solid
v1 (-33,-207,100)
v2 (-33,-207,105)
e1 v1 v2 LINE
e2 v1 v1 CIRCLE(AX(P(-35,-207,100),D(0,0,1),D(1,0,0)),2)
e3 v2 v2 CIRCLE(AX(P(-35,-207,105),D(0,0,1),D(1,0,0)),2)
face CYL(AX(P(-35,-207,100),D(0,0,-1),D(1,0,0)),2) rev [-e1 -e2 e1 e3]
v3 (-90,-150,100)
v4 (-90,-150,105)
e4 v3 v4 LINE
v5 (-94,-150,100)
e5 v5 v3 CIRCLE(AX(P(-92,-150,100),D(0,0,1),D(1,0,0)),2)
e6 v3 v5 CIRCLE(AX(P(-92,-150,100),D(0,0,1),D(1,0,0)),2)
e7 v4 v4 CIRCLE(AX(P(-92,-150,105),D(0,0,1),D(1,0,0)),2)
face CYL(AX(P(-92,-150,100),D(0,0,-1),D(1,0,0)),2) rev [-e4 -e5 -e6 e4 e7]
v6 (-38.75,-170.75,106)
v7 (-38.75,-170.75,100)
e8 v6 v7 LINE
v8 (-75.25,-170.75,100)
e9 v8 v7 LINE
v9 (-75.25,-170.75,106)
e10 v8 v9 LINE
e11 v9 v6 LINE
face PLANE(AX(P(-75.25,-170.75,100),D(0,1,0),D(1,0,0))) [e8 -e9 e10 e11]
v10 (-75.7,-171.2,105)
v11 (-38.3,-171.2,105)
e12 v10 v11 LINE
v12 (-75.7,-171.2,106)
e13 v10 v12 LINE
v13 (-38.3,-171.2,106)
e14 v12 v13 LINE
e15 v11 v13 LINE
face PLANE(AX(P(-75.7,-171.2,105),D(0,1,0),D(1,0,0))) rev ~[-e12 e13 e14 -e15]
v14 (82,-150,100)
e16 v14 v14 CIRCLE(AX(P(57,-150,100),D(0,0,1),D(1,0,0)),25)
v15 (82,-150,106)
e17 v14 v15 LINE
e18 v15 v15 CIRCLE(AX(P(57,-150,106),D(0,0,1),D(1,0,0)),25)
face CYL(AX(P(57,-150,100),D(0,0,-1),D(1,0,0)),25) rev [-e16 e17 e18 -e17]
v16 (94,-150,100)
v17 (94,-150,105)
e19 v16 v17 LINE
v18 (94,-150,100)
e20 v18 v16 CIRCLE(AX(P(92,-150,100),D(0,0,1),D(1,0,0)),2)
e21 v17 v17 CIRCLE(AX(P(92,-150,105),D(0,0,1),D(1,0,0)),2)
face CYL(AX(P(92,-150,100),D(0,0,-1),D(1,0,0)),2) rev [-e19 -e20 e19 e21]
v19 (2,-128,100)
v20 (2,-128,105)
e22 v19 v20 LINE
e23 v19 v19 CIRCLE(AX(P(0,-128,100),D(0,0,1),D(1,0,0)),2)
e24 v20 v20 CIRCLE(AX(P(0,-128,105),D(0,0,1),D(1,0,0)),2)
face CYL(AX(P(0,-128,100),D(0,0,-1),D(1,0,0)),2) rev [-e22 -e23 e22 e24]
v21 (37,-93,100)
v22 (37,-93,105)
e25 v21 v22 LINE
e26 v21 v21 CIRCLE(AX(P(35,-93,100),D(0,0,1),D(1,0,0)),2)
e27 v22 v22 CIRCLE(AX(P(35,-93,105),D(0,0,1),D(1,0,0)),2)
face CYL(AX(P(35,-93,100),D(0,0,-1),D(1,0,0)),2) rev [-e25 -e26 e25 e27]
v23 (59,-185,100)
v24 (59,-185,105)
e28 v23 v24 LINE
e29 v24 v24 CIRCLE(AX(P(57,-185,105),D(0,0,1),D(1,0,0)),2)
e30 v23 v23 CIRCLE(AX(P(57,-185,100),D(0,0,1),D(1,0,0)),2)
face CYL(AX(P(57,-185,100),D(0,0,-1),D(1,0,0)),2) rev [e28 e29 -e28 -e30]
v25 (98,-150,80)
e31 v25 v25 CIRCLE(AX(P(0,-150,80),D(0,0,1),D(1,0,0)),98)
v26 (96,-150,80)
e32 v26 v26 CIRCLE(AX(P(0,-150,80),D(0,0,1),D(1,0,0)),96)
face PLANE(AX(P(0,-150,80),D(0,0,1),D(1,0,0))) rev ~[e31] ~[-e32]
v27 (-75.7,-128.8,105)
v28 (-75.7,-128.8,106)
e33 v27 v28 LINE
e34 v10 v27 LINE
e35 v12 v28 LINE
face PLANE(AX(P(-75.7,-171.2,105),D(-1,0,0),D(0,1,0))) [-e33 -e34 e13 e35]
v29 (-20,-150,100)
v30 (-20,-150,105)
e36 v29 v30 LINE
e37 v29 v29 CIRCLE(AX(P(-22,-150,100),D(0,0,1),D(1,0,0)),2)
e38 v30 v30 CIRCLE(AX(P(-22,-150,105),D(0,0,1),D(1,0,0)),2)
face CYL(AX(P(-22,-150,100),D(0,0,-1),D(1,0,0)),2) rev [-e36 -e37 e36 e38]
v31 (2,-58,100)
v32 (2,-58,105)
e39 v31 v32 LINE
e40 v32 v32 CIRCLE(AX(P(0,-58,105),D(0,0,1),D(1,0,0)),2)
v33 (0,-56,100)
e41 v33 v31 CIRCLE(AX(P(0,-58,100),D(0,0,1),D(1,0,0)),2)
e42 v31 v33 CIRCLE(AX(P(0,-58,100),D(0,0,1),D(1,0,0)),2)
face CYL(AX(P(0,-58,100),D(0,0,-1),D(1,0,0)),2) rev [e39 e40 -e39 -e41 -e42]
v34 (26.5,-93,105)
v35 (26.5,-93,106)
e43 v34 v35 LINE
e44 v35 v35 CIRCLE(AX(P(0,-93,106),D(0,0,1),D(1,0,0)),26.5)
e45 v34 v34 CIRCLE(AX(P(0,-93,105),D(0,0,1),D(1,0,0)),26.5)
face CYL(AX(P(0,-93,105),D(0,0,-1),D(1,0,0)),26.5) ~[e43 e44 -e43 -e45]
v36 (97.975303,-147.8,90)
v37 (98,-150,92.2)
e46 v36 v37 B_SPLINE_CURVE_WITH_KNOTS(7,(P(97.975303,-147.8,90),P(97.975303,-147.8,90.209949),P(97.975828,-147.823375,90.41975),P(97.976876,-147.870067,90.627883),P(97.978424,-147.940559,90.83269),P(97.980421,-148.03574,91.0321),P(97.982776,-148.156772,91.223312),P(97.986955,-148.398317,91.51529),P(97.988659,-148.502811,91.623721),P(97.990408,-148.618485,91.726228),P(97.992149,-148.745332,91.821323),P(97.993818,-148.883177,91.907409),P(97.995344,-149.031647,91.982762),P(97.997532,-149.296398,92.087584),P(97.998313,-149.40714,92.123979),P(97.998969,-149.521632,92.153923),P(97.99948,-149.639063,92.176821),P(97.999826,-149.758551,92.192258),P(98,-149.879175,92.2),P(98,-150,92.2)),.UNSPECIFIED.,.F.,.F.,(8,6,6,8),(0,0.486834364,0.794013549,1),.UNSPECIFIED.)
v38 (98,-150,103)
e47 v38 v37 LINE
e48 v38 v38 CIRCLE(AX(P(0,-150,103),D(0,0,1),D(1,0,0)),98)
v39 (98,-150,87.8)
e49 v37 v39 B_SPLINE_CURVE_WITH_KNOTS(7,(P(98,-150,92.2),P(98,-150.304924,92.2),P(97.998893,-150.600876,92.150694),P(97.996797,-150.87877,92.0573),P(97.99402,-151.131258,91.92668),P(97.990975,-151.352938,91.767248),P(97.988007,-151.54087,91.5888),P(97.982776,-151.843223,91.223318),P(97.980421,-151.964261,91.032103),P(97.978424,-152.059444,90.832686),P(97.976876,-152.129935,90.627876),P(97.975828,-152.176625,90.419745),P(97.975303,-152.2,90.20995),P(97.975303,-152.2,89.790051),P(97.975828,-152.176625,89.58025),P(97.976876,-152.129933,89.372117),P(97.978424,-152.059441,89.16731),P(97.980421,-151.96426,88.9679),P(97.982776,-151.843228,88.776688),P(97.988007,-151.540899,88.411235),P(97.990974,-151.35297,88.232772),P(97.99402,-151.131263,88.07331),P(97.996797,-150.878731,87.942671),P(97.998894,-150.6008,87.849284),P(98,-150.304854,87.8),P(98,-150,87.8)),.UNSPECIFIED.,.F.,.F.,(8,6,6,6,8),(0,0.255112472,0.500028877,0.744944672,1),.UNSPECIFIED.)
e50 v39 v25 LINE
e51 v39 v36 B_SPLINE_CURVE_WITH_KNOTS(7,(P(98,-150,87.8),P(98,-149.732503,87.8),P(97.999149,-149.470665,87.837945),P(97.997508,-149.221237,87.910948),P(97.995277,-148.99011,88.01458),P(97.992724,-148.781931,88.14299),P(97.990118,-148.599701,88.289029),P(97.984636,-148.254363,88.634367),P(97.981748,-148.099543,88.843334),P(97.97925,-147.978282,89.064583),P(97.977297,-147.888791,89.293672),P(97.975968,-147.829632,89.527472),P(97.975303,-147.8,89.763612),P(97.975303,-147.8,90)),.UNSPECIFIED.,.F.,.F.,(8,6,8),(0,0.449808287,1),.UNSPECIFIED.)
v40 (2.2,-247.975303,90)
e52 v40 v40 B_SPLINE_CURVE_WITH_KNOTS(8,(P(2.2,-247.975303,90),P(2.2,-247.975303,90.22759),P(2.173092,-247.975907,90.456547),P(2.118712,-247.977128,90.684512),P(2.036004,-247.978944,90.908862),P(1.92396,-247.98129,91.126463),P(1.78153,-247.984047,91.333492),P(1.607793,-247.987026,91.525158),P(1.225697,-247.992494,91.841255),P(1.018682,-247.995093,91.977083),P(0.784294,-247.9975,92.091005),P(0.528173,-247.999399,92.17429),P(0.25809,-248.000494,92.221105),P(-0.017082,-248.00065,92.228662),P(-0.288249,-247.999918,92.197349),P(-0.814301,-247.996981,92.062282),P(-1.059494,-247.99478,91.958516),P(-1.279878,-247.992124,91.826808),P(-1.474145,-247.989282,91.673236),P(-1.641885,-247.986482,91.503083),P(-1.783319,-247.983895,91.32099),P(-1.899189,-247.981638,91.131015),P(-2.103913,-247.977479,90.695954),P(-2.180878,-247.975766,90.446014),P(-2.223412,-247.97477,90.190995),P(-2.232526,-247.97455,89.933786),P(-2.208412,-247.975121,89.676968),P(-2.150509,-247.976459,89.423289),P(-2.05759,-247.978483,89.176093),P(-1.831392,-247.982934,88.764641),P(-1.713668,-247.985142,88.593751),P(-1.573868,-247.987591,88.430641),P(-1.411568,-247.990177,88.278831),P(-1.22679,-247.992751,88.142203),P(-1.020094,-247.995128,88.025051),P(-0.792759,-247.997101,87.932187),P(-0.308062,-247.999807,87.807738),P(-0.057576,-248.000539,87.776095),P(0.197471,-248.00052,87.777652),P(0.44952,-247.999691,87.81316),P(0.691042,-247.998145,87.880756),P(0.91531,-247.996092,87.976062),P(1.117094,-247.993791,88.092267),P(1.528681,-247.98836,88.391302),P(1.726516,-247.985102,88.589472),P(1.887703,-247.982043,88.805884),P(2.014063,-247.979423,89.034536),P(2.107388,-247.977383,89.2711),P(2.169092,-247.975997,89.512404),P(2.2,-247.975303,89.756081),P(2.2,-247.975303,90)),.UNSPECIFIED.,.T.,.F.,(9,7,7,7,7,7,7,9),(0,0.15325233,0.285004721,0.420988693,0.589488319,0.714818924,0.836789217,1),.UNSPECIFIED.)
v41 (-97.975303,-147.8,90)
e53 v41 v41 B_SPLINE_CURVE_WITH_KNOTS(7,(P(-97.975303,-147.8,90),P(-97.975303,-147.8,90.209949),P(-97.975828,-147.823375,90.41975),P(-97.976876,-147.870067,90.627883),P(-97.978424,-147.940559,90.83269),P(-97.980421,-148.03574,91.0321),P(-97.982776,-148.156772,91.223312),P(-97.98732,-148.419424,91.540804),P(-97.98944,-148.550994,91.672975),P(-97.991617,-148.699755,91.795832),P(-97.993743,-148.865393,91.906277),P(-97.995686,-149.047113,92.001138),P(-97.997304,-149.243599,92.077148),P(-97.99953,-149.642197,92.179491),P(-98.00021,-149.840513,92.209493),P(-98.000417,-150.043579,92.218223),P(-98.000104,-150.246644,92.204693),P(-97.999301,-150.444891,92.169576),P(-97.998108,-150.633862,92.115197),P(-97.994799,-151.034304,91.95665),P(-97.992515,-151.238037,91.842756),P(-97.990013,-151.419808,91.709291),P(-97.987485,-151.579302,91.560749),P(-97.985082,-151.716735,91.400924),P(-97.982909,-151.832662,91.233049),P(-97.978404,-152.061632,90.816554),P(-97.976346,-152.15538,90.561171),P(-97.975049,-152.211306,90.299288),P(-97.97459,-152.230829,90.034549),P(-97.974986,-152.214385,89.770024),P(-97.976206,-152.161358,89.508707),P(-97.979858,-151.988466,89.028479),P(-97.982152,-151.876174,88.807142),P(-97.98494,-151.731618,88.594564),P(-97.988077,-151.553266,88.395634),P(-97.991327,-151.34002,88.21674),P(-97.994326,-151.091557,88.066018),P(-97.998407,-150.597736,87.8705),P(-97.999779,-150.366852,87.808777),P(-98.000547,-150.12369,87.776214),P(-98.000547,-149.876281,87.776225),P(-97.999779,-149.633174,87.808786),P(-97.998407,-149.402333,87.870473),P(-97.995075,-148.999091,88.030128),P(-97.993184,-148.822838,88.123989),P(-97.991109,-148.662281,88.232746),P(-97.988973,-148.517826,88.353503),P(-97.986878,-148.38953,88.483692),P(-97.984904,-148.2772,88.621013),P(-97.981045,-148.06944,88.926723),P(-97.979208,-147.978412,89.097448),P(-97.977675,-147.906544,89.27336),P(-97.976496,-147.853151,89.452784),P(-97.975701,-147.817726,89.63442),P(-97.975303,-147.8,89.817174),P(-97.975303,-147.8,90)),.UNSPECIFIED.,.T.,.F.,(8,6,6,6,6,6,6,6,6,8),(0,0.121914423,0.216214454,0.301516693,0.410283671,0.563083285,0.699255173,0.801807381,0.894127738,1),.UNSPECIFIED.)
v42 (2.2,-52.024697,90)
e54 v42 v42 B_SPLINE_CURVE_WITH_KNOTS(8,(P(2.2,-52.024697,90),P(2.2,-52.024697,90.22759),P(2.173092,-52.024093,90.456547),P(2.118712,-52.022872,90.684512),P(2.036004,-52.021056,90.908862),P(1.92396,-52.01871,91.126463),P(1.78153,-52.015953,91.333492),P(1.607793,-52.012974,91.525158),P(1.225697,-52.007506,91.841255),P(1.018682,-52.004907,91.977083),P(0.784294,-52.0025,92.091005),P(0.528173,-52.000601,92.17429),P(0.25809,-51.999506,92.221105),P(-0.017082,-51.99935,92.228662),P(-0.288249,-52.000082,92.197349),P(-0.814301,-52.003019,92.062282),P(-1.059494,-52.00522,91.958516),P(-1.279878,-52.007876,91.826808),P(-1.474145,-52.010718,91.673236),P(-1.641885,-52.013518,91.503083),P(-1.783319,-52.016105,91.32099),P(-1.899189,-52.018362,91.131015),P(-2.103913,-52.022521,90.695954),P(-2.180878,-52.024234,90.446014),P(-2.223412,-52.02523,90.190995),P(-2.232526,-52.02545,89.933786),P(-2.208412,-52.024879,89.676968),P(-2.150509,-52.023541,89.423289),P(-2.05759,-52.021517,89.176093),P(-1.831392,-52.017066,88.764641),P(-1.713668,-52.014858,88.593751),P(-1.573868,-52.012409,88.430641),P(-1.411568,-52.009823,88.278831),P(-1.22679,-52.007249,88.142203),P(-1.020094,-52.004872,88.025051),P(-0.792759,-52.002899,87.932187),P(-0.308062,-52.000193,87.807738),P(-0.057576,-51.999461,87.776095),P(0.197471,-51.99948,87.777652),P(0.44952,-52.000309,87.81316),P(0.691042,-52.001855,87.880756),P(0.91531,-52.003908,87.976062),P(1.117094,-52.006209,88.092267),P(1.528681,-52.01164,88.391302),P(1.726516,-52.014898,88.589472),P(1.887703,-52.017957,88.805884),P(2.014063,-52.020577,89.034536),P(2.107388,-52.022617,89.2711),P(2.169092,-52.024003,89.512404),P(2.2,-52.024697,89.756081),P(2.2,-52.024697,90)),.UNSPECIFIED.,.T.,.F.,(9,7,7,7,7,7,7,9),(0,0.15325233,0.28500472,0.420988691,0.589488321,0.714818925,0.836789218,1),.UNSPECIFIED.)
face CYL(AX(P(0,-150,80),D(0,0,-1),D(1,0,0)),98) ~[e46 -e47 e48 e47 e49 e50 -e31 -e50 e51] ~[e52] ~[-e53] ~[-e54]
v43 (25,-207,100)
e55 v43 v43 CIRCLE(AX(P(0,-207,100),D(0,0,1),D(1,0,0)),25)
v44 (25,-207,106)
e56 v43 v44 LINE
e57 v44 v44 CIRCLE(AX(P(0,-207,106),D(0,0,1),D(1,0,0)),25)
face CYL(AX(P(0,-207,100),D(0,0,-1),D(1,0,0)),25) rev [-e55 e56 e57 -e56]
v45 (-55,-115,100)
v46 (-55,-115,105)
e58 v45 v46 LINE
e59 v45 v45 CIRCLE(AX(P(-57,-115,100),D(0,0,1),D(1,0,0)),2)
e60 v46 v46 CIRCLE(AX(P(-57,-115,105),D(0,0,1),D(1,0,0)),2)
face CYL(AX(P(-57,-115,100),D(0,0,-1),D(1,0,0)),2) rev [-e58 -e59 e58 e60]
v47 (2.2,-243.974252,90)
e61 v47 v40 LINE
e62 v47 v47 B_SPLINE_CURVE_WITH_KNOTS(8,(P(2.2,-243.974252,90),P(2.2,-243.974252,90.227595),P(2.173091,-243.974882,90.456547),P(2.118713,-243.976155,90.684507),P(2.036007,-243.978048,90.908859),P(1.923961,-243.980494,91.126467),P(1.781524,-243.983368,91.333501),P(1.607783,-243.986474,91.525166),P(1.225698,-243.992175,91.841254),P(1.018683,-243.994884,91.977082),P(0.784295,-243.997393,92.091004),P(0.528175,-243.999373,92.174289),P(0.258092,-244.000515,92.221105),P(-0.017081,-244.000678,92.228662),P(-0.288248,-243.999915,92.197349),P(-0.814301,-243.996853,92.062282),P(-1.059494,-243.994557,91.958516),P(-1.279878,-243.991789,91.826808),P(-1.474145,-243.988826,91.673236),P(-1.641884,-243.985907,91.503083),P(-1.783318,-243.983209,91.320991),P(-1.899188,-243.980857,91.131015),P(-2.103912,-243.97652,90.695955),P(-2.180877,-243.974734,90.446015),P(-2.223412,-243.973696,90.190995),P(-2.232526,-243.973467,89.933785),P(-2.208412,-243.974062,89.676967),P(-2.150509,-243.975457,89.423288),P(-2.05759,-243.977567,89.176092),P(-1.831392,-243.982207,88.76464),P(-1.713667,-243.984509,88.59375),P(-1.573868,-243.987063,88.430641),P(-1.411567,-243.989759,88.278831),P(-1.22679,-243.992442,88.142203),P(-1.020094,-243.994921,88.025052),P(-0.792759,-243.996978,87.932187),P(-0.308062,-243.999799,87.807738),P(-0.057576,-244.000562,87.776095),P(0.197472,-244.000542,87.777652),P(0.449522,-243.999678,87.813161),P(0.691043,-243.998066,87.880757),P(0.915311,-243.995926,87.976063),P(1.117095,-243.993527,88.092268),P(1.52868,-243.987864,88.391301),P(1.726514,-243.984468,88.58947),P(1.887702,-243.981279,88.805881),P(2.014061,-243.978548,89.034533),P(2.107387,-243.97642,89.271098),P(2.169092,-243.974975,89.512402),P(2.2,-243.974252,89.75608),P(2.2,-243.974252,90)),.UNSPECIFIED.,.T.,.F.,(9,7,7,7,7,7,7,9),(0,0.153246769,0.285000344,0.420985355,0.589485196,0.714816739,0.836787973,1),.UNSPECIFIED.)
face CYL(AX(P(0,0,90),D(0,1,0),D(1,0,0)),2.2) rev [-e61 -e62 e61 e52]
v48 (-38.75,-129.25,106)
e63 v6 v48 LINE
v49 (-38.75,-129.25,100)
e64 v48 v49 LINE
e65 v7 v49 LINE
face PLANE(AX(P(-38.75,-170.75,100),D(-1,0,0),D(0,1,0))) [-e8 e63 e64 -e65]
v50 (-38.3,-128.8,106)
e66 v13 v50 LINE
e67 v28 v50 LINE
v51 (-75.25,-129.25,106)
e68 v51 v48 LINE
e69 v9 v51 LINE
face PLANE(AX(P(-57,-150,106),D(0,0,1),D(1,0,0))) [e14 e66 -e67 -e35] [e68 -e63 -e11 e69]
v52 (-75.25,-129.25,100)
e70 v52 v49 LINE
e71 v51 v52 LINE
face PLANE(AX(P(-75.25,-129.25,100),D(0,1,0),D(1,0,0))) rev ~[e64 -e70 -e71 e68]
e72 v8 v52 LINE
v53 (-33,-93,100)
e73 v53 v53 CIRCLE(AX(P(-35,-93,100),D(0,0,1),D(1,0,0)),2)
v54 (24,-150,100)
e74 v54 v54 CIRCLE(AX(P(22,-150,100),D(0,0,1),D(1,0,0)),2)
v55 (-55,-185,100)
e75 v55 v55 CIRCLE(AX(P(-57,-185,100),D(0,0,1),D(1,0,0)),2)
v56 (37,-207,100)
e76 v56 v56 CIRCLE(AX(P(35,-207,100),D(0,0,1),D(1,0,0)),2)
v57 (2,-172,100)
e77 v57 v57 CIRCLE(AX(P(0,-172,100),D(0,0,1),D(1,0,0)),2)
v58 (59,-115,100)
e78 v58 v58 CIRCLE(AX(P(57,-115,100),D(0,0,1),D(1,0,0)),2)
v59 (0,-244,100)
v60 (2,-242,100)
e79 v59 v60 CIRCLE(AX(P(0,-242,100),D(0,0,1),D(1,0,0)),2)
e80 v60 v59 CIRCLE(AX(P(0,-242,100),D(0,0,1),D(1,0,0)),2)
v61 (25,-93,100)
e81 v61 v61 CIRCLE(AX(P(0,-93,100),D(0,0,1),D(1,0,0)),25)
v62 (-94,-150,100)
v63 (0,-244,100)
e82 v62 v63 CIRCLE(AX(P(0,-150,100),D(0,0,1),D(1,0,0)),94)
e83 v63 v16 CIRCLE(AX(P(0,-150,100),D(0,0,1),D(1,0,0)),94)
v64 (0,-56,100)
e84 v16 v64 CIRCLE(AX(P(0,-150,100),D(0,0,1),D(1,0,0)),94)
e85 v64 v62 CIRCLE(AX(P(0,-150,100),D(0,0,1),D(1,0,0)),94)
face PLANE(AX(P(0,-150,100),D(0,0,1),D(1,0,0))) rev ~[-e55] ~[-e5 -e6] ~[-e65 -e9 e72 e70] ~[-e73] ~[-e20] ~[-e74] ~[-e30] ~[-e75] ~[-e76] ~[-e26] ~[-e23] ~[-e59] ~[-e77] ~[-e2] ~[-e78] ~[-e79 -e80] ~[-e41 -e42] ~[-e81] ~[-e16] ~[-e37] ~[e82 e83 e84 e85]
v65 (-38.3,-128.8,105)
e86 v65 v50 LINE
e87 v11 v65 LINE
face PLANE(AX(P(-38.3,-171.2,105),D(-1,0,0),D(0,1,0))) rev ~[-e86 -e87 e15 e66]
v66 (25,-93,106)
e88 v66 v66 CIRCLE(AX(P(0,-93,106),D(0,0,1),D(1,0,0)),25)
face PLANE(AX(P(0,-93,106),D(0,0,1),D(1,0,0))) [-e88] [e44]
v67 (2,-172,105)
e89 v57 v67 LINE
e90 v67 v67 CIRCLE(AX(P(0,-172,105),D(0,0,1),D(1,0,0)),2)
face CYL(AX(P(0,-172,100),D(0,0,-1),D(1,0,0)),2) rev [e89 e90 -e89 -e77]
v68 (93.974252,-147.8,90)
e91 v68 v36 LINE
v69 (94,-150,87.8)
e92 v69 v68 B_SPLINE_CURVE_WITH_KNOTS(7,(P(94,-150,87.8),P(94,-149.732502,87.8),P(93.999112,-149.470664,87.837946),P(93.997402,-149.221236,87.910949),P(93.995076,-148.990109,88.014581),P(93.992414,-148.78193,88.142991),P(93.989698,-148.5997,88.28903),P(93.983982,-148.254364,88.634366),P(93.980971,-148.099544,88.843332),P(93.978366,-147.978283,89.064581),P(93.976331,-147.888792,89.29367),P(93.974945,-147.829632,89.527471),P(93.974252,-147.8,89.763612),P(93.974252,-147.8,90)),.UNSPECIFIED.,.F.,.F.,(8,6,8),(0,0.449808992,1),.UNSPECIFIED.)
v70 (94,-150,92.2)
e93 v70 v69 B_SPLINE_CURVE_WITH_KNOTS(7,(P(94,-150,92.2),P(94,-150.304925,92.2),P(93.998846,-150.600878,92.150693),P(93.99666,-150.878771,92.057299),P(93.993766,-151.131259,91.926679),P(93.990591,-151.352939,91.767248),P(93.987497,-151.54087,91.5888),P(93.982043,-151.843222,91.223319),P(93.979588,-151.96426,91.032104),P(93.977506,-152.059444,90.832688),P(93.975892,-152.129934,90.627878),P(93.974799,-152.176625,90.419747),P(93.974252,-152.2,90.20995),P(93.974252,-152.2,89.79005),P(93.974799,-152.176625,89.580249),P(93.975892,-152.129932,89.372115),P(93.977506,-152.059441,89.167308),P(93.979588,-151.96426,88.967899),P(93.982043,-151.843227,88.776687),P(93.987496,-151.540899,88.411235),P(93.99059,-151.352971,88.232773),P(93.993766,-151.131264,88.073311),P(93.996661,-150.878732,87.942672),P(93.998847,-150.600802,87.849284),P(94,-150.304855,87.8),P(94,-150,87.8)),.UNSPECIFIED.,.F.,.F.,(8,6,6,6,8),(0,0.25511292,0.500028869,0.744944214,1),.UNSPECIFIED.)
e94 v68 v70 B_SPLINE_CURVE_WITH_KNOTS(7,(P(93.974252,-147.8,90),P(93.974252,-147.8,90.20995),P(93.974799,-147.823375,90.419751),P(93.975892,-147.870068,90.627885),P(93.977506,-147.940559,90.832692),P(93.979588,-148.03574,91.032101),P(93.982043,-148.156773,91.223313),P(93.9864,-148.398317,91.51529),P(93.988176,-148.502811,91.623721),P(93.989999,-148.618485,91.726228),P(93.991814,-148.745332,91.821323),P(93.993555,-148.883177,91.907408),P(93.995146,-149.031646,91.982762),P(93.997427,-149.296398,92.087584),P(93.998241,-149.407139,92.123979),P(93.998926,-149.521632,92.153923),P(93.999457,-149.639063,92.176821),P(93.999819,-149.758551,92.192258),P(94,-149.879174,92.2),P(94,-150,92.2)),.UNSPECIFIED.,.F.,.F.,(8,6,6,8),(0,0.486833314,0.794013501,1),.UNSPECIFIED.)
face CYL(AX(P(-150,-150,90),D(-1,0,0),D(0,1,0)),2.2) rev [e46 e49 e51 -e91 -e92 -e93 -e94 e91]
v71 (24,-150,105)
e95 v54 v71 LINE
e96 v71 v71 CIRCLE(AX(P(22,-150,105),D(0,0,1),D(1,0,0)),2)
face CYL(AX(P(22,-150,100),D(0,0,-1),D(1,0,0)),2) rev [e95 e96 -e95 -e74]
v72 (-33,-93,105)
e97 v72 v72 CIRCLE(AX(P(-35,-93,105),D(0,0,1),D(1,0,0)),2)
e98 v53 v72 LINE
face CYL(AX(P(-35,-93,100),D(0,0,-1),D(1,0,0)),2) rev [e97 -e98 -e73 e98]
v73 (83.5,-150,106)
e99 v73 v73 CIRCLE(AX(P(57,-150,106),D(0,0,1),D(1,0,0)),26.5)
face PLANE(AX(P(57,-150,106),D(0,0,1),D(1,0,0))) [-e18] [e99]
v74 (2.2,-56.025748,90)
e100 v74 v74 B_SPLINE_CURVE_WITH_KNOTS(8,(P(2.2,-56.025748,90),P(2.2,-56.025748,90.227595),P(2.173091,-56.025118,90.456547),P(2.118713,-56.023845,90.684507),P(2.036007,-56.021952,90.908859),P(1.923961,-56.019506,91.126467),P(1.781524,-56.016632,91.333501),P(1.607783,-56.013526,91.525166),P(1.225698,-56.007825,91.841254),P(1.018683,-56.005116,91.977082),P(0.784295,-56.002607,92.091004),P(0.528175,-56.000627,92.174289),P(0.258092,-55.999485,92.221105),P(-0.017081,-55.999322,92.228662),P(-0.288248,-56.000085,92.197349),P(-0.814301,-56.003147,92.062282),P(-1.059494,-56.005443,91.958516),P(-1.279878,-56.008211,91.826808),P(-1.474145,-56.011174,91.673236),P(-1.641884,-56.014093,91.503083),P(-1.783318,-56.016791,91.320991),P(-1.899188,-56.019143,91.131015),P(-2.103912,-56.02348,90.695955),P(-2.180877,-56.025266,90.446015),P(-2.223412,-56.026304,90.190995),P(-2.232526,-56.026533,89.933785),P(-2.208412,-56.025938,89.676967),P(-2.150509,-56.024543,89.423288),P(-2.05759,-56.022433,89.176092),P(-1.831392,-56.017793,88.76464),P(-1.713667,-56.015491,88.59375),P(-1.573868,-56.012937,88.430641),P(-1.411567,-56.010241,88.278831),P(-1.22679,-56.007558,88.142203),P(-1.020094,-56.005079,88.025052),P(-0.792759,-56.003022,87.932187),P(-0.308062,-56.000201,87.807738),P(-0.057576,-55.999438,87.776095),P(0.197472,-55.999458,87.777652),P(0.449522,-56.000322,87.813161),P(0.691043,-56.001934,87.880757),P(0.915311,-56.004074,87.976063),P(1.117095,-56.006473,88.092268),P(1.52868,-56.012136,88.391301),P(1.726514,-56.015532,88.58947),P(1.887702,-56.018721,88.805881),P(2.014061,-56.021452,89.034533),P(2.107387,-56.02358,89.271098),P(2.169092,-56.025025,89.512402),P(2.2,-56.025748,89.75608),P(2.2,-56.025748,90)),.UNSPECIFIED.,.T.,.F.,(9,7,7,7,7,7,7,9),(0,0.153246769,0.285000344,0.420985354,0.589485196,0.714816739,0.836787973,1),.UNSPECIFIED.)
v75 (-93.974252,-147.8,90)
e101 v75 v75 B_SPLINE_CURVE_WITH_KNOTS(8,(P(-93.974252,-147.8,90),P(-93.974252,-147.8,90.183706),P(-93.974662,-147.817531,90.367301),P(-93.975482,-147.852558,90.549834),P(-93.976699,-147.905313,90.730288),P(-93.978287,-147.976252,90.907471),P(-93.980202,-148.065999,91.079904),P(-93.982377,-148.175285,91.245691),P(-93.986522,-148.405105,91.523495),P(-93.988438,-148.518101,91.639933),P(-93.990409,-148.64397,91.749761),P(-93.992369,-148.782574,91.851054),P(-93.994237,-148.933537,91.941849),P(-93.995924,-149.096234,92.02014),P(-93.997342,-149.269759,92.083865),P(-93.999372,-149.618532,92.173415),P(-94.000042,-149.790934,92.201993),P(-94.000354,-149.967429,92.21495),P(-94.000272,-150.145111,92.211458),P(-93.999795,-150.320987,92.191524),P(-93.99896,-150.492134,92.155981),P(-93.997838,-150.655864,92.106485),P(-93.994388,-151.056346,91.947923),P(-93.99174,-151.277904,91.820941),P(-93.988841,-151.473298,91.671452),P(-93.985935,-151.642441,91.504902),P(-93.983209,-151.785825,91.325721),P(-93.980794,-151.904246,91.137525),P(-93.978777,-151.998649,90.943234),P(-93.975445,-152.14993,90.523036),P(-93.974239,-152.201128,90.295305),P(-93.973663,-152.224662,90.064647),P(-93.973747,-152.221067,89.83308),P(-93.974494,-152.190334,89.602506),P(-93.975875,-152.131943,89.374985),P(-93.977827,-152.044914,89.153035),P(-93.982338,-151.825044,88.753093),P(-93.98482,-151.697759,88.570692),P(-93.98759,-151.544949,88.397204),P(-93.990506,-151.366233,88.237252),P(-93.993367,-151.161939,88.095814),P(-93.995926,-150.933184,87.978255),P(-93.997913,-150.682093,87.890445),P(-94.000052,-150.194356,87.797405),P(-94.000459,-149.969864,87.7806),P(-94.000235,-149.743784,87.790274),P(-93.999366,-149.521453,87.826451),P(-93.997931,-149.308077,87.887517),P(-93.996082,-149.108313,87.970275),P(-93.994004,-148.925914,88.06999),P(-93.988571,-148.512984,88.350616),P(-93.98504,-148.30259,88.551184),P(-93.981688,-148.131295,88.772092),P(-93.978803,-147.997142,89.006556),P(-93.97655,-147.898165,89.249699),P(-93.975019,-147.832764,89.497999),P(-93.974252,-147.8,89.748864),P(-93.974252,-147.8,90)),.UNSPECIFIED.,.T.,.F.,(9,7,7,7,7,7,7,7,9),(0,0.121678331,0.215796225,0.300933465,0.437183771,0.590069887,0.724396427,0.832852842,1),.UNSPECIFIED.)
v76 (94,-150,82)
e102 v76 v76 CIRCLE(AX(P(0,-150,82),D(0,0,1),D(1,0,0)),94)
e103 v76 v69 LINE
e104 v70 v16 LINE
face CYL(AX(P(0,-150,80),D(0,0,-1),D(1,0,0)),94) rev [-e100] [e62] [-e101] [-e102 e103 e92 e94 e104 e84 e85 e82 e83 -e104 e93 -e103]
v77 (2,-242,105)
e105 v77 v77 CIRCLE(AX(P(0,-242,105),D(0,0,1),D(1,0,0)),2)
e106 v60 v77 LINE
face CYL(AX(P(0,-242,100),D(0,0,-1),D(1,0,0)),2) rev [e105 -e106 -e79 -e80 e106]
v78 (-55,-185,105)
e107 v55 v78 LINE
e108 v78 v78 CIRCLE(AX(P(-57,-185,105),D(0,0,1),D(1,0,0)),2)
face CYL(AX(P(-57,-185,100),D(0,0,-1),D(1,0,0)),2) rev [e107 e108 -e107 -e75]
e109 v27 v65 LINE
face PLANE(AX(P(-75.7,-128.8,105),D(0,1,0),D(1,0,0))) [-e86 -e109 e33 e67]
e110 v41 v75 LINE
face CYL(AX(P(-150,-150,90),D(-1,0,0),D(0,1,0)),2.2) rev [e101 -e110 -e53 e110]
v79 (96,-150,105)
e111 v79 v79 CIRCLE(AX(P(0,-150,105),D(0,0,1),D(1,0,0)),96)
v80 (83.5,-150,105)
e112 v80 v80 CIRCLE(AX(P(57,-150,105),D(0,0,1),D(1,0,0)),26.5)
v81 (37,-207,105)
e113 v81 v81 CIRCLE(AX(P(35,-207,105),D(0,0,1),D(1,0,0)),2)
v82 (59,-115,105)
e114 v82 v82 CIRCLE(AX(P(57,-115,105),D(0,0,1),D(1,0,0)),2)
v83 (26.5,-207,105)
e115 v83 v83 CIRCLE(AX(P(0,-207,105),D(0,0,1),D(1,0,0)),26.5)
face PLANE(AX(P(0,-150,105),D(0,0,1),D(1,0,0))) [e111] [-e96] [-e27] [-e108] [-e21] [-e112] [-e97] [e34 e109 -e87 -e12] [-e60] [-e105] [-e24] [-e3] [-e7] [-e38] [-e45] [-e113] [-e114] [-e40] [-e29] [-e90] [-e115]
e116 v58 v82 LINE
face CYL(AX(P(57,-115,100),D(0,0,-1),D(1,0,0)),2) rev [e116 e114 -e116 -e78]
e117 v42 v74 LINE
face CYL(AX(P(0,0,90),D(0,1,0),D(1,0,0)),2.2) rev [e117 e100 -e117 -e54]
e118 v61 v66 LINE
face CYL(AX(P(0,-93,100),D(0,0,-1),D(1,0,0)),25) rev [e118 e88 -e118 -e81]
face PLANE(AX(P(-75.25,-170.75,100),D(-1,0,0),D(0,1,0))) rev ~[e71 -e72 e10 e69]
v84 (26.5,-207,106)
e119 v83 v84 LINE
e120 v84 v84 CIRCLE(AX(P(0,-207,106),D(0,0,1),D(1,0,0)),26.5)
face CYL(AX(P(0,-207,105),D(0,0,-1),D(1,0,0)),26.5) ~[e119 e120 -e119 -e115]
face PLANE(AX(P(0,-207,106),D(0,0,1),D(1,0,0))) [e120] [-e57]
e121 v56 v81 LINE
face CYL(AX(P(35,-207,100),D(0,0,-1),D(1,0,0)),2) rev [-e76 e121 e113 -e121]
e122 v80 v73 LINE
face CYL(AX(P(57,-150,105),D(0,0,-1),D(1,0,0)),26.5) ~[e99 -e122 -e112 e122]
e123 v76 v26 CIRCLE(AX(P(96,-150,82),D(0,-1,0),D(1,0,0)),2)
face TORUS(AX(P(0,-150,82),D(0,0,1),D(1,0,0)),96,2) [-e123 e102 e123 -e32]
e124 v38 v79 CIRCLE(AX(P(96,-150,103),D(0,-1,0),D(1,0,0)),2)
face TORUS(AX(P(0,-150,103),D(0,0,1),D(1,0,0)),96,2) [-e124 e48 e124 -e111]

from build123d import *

# Parameters (mm, degrees)
CYLINDER_R        = 2.2
CYLINDER_DEPTH    = 300
CYLINDER092_R     = 2.2
CYLINDER092_DEPTH = 300
TUBE_R            = 98
TUBE_R_2          = 94
TUBE_DEPTH        = 20
FILLET001_R       = 2
SKETCH_R          = 98
SKETCH_R_2        = 2
SKETCH_R_3        = 25
SKETCH_W          = 36.5
SKETCH_H          = 41.5
EXTRUDE_DEPTH     = 5
SKETCH001_R       = 26.5
SKETCH001_R_2     = 25
SKETCH001_W       = 37.4
SKETCH001_H       = 42.4
SKETCH001_W_2     = 36.5
SKETCH001_H_2     = 41.5
EXTRUDE001_DEPTH  = 1
FILLET_R          = 2


with BuildPart() as cylinder:
    # Cylinder → Cylinder (new body)
    with BuildSketch(Plane(origin=(0, 0, 90), x_dir=(1, 0, 0), z_dir=(0, -1, 0))):
        Circle(CYLINDER_R)
    extrude(amount=CYLINDER_DEPTH)


with BuildPart() as m4cuts:
    # Cylinder092 → Cylinder092 (new body)
    with BuildSketch(Plane(origin=(-150, -150, 90), x_dir=(0, 1, 0), z_dir=(1, 0, 0))):
        Circle(CYLINDER092_R)
    extrude(amount=CYLINDER092_DEPTH)

    # Fusion047: union Cylinder
    add(cylinder.part)


with BuildPart() as tube:
    # Tube → Tube (new body)
    with BuildSketch(Plane(origin=(0, -150, 80), x_dir=(1, 0, 0), z_dir=(0, 0, 1))):
        Circle(TUBE_R)
        Circle(TUBE_R_2, mode=Mode.SUBTRACT)
    extrude(amount=TUBE_DEPTH)

    # Fillet001
    fillet001_edges = [tube.edges().sort_by_distance(p)[0] for p in [
        (-94, -150, 80),
    ]]
    fillet(fillet001_edges, radius=FILLET001_R)


with BuildPart() as top001:
    # Sketch → Extrude (new body)
    with BuildSketch(Plane.XY):
        with Locations((0, -150)):
            Circle(SKETCH_R)
        with Locations((-92, -150)):
            Circle(SKETCH_R_2, mode=Mode.SUBTRACT)
        with Locations((-57, -115)):
            Circle(SKETCH_R_2, mode=Mode.SUBTRACT)
        with Locations((-22, -150)):
            Circle(SKETCH_R_2, mode=Mode.SUBTRACT)
        with Locations((-57, -185)):
            Circle(SKETCH_R_2, mode=Mode.SUBTRACT)
        with Locations((0, -172)):
            Circle(SKETCH_R_2, mode=Mode.SUBTRACT)
        with Locations((0, -242)):
            Circle(SKETCH_R_2, mode=Mode.SUBTRACT)
        with Locations((-35, -207)):
            Circle(SKETCH_R_2, mode=Mode.SUBTRACT)
        with Locations((35, -207)):
            Circle(SKETCH_R_2, mode=Mode.SUBTRACT)
        with Locations((57, -185)):
            Circle(SKETCH_R_2, mode=Mode.SUBTRACT)
        with Locations((22, -150)):
            Circle(SKETCH_R_2, mode=Mode.SUBTRACT)
        with Locations((57, -115)):
            Circle(SKETCH_R_2, mode=Mode.SUBTRACT)
        with Locations((92, -150)):
            Circle(SKETCH_R_2, mode=Mode.SUBTRACT)
        with Locations((0, -58)):
            Circle(SKETCH_R_2, mode=Mode.SUBTRACT)
        with Locations((0, -207)):
            Circle(SKETCH_R_3, mode=Mode.SUBTRACT)
        with Locations((57, -150)):
            Circle(SKETCH_R_3, mode=Mode.SUBTRACT)
        with Locations((0, -93)):
            Circle(SKETCH_R_3, mode=Mode.SUBTRACT)
        with Locations((-35, -93)):
            Circle(SKETCH_R_2, mode=Mode.SUBTRACT)
        with Locations((35, -93)):
            Circle(SKETCH_R_2, mode=Mode.SUBTRACT)
        with Locations((0, -128)):
            Circle(SKETCH_R_2, mode=Mode.SUBTRACT)
        with Locations((-57, -150)):
            Rectangle(SKETCH_W, SKETCH_H, mode=Mode.SUBTRACT)
    extrude(amount=EXTRUDE_DEPTH)


with BuildPart() as top001_1:
    # Extrude placement: moved
    add(top001.part.moved(Location((0, 0, 100))))


with BuildPart() as top005:
    # Sketch001 → Extrude001 (new body)
    with BuildSketch(Plane.XY.offset(105)):
        with Locations((0, -93)):
            Circle(SKETCH001_R)
        with Locations((0, -93)):
            Circle(SKETCH001_R_2, mode=Mode.SUBTRACT)
        with Locations((57, -150)):
            Circle(SKETCH001_R)
        with Locations((57, -150)):
            Circle(SKETCH001_R_2, mode=Mode.SUBTRACT)
        with Locations((0, -207)):
            Circle(SKETCH001_R)
        with Locations((0, -207)):
            Circle(SKETCH001_R_2, mode=Mode.SUBTRACT)
        with Locations((-57, -150)):
            Rectangle(SKETCH001_W, SKETCH001_H)
        with Locations((-57, -150)):
            Rectangle(SKETCH001_W_2, SKETCH001_H_2, mode=Mode.SUBTRACT)
    extrude(amount=EXTRUDE001_DEPTH)

    # Fusion046: union top001
    add(top001_1.part)

    # Fillet
    fillet_edges = [top005.edges().sort_by_distance(p)[0] for p in [
        (-98, -150, 105),
    ]]
    fillet(fillet_edges, radius=FILLET_R)

    # Fusion048: union tube
    add(tube.part)

    # Cut: cut m4Cuts
    add(m4cuts.part, mode=Mode.SUBTRACT)


solid = top005.part
